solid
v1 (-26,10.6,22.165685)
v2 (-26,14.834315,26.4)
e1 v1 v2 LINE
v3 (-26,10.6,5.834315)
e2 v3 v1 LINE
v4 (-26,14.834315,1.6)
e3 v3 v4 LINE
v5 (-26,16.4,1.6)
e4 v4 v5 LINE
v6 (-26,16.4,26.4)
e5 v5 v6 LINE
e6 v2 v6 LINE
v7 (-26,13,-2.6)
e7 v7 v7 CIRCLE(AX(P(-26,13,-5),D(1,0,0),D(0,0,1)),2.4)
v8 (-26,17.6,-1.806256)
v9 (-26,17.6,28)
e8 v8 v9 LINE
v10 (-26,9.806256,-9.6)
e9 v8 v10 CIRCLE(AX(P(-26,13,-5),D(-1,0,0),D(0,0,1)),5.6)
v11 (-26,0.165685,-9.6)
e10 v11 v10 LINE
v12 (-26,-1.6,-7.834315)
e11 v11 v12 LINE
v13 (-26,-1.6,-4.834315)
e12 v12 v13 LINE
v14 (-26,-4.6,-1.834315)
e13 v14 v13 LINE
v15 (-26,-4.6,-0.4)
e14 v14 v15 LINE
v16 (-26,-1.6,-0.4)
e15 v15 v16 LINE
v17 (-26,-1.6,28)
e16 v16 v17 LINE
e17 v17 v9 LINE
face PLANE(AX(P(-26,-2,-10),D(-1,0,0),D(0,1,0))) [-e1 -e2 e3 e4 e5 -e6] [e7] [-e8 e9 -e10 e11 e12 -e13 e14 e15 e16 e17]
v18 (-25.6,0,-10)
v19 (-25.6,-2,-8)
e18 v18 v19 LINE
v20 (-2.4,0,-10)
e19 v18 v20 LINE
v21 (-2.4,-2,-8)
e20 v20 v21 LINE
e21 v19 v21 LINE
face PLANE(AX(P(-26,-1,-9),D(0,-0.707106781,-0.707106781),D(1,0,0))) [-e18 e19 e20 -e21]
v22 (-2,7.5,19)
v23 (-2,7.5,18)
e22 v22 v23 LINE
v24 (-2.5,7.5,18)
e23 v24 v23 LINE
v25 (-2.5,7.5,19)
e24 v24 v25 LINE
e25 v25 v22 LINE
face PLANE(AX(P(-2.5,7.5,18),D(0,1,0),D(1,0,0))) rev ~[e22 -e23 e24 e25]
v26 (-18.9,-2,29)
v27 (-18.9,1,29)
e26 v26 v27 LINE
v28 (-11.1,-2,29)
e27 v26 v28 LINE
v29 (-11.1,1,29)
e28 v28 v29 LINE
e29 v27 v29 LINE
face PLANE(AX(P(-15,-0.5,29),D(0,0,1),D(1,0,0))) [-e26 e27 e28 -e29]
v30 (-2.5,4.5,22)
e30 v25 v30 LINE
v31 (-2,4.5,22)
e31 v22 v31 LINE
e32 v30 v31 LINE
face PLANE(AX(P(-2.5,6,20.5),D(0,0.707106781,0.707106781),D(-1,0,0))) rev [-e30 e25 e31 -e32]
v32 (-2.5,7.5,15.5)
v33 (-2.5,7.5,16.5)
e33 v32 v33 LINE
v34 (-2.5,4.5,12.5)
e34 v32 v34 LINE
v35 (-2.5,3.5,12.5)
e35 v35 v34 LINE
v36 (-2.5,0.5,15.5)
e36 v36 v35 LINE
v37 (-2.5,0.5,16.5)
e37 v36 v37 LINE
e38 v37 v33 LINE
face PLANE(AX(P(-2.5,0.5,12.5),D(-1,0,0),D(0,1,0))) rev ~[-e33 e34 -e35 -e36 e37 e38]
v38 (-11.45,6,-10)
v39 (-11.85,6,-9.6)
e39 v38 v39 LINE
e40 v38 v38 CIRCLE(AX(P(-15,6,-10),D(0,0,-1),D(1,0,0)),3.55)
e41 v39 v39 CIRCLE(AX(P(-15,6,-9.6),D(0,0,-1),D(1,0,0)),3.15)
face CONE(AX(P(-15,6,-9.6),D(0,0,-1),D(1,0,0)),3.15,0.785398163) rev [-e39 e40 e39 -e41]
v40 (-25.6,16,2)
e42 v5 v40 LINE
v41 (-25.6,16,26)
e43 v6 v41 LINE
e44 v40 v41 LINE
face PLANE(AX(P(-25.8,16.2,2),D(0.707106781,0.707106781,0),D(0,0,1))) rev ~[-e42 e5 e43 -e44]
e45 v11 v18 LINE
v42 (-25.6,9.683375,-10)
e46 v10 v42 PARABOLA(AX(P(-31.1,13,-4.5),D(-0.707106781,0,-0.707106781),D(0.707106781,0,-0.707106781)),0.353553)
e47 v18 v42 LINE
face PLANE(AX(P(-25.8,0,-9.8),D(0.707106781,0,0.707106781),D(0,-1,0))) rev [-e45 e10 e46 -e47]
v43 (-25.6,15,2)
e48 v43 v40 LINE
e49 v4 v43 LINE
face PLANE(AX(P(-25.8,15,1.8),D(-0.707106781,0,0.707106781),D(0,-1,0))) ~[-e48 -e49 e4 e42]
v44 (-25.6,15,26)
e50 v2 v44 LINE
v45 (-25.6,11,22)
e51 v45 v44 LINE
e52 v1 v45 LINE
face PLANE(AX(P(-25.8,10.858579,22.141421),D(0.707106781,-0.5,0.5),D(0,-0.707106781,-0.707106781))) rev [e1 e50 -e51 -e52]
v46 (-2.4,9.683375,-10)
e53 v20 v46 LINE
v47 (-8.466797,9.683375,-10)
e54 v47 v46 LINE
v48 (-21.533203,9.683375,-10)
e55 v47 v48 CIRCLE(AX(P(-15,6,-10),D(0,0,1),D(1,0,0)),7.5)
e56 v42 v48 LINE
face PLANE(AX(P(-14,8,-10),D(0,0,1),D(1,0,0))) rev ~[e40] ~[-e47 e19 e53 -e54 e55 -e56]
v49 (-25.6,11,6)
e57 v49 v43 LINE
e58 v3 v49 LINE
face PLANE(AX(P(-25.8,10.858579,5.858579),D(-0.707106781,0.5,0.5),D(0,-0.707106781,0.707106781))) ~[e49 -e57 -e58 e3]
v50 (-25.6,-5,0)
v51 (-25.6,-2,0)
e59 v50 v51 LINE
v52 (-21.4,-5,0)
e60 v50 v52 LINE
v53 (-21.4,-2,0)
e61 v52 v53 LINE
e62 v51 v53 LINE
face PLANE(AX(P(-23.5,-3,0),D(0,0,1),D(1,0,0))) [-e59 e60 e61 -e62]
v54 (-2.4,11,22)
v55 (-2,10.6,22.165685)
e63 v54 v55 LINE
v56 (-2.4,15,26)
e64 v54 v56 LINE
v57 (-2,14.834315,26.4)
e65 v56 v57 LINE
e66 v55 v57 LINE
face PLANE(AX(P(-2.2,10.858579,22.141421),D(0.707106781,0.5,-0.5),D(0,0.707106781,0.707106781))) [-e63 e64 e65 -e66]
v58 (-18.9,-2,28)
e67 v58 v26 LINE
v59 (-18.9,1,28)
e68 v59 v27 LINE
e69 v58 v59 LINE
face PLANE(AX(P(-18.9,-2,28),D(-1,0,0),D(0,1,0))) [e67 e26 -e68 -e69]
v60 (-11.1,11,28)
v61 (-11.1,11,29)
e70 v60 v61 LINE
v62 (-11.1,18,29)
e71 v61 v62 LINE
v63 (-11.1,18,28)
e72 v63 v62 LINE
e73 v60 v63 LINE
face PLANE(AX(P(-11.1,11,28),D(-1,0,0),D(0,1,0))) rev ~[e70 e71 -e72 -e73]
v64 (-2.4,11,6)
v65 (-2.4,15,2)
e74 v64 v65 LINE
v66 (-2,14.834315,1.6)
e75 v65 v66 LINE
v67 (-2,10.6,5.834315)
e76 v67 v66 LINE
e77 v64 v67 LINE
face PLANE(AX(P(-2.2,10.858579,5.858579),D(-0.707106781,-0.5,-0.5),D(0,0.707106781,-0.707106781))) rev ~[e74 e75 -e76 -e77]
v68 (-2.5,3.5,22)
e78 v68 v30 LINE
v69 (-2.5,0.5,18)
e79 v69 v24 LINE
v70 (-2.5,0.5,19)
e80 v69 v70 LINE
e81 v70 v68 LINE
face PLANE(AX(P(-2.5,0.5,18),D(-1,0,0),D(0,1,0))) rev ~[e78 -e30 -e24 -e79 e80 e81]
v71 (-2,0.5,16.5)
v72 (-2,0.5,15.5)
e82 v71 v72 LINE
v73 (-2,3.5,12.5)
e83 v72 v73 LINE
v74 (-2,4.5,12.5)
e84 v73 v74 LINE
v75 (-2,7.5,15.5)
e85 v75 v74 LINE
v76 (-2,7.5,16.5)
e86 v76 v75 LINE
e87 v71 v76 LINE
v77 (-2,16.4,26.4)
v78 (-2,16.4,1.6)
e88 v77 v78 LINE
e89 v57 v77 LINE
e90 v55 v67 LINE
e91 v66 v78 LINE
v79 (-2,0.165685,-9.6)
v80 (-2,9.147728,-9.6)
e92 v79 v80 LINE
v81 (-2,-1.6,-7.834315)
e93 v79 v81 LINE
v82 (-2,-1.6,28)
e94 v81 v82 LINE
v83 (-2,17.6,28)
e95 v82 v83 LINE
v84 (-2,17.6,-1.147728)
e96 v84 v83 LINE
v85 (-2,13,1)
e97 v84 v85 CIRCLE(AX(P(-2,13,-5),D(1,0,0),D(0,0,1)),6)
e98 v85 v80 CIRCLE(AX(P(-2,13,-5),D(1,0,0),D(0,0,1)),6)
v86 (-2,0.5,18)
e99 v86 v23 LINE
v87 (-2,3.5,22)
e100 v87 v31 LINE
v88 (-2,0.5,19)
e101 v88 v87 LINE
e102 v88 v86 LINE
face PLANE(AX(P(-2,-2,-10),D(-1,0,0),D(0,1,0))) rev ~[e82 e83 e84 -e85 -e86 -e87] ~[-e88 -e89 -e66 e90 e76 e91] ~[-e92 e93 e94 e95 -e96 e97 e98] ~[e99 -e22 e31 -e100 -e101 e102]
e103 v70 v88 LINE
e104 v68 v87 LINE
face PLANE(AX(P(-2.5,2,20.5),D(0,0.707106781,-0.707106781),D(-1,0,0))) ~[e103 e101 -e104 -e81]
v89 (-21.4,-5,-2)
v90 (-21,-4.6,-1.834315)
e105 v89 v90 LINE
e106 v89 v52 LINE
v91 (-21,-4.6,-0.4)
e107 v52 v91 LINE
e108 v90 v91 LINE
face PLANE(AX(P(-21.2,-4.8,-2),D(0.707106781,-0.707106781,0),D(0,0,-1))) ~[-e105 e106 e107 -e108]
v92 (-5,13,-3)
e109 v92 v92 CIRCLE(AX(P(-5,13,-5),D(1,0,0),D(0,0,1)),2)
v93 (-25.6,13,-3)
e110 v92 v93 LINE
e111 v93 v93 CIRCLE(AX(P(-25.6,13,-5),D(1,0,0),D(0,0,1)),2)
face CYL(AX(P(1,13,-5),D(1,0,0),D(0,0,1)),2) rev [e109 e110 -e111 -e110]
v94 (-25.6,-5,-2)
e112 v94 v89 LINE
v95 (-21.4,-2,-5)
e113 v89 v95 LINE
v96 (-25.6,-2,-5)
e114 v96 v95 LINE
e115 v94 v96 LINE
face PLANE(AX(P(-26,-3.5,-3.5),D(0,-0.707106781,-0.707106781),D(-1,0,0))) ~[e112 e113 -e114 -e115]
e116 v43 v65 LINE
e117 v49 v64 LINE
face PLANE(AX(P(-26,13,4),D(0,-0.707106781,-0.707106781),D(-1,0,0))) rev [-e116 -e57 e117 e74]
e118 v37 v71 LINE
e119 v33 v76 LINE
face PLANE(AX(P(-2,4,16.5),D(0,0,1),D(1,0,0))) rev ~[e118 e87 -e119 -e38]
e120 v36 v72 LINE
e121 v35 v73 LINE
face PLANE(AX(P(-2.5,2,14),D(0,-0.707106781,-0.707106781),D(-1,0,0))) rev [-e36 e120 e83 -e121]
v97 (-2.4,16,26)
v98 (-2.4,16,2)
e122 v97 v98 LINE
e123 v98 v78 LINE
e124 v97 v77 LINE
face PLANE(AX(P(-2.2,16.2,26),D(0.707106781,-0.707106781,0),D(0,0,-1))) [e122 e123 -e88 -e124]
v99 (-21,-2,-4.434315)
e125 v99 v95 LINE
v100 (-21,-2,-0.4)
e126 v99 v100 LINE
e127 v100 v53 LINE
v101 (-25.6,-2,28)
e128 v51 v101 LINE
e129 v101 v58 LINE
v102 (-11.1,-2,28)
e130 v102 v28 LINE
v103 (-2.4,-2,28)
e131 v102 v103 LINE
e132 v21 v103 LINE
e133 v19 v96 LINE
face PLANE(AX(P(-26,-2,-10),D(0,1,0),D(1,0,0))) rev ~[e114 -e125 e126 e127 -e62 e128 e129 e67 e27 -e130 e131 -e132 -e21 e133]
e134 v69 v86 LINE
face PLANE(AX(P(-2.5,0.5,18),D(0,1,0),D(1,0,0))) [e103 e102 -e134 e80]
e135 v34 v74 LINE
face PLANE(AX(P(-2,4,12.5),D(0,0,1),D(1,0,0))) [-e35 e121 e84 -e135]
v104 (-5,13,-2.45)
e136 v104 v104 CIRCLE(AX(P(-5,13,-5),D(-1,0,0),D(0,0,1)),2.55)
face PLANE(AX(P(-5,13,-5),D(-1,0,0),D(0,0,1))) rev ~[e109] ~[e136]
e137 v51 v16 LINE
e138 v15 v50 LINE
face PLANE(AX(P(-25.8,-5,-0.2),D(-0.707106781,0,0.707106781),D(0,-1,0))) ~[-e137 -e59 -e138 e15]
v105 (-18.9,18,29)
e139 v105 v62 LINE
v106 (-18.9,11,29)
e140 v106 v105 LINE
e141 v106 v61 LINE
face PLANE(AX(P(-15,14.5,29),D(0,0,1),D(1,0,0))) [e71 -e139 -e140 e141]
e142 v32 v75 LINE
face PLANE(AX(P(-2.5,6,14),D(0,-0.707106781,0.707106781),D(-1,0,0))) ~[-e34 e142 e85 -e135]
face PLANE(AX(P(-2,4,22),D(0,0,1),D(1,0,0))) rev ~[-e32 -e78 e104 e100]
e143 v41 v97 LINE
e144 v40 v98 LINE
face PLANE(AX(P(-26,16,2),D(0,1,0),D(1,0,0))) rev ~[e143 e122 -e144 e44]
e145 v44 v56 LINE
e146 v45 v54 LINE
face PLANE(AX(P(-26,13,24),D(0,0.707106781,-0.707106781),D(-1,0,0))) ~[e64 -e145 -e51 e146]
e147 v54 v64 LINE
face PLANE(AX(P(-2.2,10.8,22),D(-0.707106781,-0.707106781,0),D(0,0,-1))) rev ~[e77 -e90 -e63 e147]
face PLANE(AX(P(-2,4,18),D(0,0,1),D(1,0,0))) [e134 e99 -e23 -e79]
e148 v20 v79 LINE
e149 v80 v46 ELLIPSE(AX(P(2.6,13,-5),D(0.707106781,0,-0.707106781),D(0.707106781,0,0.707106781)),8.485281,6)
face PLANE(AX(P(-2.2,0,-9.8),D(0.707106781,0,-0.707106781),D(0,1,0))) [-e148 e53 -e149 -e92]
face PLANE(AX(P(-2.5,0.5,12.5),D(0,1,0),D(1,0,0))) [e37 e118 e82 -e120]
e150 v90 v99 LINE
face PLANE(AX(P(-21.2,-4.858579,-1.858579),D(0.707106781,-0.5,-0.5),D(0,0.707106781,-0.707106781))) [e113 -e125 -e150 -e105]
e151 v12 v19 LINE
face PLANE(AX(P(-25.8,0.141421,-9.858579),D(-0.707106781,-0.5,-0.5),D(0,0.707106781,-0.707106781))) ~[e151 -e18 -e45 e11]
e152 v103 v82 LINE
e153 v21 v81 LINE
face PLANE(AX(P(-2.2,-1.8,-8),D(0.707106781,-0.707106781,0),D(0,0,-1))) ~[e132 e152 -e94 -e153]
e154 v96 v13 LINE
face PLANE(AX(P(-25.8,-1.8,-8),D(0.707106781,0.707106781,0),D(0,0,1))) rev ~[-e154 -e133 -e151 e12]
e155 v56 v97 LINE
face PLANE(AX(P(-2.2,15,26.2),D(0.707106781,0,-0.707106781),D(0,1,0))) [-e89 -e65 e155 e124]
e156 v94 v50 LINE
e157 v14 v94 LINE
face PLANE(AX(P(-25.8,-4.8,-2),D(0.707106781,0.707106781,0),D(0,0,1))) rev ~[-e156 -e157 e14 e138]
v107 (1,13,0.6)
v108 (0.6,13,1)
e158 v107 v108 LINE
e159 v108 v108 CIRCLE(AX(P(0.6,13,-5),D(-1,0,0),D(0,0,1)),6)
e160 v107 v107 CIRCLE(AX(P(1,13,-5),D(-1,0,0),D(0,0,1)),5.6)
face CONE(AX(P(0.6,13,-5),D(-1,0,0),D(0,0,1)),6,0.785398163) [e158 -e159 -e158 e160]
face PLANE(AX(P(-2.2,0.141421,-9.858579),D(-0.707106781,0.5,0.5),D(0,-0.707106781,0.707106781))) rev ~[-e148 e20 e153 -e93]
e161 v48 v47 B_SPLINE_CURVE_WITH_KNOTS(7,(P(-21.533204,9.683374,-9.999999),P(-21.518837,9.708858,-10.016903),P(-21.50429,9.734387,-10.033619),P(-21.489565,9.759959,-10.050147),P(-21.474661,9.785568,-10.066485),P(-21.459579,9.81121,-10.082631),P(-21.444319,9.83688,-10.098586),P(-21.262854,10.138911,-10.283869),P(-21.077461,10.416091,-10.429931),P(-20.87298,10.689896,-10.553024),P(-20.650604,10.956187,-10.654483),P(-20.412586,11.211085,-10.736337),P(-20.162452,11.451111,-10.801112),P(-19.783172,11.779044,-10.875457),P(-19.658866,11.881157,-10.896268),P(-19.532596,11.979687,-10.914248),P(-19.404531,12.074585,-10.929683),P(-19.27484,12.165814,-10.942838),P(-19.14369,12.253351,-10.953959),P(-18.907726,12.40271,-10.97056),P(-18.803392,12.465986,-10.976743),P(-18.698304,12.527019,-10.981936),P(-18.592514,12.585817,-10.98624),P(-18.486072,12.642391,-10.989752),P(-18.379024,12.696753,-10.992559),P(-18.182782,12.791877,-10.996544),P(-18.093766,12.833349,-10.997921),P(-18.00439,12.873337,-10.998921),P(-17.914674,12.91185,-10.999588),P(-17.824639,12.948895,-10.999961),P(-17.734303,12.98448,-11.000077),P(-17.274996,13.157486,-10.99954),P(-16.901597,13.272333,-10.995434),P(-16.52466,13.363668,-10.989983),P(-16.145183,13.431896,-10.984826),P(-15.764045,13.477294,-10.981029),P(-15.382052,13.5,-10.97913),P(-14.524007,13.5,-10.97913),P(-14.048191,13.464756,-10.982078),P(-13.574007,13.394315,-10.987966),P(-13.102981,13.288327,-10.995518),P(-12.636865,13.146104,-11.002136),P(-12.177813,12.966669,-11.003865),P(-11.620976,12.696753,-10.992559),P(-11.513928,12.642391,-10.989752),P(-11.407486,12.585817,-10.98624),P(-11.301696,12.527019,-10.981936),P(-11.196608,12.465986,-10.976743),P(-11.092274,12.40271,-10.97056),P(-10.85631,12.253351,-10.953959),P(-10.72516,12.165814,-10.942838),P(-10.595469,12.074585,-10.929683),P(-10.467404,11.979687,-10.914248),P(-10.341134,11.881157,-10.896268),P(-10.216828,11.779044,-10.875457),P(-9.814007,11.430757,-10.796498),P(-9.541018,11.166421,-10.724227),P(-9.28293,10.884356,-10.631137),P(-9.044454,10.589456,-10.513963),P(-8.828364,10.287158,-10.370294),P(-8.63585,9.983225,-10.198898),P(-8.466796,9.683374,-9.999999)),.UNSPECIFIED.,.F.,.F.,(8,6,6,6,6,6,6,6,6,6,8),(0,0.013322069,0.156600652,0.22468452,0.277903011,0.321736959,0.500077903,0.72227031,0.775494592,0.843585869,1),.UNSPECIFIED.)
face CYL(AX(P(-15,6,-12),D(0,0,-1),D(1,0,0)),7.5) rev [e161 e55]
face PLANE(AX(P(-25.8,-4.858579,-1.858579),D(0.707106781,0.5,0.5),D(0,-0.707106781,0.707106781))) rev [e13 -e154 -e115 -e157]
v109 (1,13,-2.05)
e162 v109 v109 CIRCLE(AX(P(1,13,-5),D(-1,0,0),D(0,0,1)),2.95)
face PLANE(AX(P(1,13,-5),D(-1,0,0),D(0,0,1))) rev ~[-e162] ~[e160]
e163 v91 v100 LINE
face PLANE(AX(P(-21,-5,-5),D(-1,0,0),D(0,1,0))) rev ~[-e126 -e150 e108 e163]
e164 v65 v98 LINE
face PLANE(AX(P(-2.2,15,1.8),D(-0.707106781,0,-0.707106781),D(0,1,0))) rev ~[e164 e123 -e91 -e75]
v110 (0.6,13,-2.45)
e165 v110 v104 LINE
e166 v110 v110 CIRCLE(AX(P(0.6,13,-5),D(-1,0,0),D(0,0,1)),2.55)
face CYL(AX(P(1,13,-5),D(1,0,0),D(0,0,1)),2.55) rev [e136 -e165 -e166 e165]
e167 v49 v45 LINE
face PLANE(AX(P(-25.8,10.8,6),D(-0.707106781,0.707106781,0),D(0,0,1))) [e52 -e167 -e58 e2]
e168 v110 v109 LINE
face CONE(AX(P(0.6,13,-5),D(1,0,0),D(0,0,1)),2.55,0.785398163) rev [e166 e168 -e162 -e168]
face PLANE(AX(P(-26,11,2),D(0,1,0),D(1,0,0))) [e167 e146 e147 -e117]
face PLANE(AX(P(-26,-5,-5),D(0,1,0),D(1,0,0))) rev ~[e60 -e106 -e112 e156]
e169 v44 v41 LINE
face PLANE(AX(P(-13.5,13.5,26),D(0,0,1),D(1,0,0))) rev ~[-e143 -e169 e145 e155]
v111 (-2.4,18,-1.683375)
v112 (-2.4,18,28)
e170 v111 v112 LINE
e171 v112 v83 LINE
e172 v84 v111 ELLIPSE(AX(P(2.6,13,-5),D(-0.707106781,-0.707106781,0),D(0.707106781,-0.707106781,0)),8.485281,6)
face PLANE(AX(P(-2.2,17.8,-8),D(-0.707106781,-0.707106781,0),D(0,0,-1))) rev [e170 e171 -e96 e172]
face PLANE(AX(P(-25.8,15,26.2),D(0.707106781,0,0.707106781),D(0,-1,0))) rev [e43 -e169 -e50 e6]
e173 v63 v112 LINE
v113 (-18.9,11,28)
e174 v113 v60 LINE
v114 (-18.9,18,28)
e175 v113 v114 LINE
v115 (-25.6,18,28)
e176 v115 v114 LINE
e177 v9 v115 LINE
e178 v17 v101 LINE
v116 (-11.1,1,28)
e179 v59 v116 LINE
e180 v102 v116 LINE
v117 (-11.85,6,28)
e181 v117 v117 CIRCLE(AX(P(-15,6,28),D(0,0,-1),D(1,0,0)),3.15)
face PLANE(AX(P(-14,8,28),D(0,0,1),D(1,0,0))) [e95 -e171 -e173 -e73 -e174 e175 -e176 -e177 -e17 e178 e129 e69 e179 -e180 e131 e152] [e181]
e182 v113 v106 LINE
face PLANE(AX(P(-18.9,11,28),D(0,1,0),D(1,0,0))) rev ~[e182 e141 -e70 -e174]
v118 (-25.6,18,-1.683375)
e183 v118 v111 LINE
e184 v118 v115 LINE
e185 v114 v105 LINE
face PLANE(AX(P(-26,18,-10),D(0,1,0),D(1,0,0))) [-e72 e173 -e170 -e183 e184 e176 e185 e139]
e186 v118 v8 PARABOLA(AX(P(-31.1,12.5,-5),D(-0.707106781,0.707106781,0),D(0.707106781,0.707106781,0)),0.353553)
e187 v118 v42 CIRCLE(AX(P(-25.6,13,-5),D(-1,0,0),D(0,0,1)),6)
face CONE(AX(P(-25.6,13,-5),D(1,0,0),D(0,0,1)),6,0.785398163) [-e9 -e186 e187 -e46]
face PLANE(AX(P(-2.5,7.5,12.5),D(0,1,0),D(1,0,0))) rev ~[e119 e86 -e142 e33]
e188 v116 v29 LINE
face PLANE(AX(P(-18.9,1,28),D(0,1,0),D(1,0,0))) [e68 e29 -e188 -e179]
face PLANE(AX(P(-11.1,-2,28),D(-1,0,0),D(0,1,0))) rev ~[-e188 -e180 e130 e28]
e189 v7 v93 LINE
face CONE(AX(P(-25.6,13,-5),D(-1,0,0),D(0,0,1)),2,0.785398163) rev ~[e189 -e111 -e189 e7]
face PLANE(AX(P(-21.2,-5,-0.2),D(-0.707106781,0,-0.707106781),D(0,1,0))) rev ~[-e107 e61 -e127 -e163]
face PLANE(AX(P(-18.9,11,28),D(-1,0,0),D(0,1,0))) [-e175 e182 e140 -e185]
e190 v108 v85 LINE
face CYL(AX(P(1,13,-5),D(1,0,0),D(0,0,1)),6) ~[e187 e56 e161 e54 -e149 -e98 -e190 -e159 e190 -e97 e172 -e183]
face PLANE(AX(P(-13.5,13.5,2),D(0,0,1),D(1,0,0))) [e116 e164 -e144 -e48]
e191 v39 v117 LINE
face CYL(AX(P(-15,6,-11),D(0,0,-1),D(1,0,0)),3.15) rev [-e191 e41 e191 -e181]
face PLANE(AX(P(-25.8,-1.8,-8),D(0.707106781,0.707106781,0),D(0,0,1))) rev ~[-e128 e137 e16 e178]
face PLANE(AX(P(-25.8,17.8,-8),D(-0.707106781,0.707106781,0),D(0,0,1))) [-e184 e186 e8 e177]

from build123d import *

# Parameters (mm, degrees)
CYLINDER024_R               = 7.5
CYLINDER024_DEPTH           = 2
CYLINDER012_R               = 3.15
CYLINDER012_DEPTH           = 43
CYLINDER011_R               = 2
CYLINDER011_DEPTH           = 39
CYLINDER013_R               = 2.55
CYLINDER013_DEPTH           = 6
BOX022_W                    = 1
BOX022_H                    = 7
BOX022_DEPTH                = 4
BOX023_W                    = 1
BOX023_H                    = 7
BOX023_DEPTH                = 4
CHAMFER003068012002016_SIZE = 3
BOX020_W                    = 7.8
BOX020_H                    = 3
BOX020_DEPTH                = 1
BOX018_W                    = 7.8
BOX018_H                    = 7
BOX018_DEPTH                = 1
BOX021_W                    = 5
BOX021_H                    = 4
BOX021_DEPTH                = 5
CHAMFER003068012002041_SIZE = 3
CHAMFER003068012002042_SIZE = 0.4
BOX017_W                    = 25
BOX017_H                    = 5
BOX017_DEPTH                = 24
CHAMFER003068012002002_SIZE = 4
BOX015_W                    = 24
BOX015_H                    = 20
BOX015_DEPTH                = 38
CHAMFER003068012002006_SIZE = 2
CHAMFER003068012002007_SIZE = 2
CHAMFER003068012002009_SIZE = 0.4
CYLINDER023_R               = 6
CYLINDER023_DEPTH           = 27
CHAMFER003068012002044_SIZE = 0.4
CHAMFER003068012002045_SIZE = 0.4


with BuildPart() as cylinder024:
    # Cylinder024 → Cylinder024 (new body)
    with BuildSketch(Plane(origin=(-15, 6, -12), x_dir=(1, 0, 0), z_dir=(0, 0, 1))):
        Circle(CYLINDER024_R)
    extrude(amount=CYLINDER024_DEPTH)


with BuildPart() as cylinder012:
    # Cylinder012 → Cylinder012 (new body)
    with BuildSketch(Plane(origin=(-15, 6, -11), x_dir=(1, 0, 0), z_dir=(0, 0, 1))):
        Circle(CYLINDER012_R)
    extrude(amount=CYLINDER012_DEPTH)


with BuildPart() as cylinder011:
    # Cylinder011 → Cylinder011 (new body)
    with BuildSketch(Plane(origin=(1, 13, -5), x_dir=(0, 0, 1), z_dir=(-1, 0, 0))):
        Circle(CYLINDER011_R)
    extrude(amount=CYLINDER011_DEPTH)


with BuildPart() as fusion001002012005:
    # Cylinder013 → Cylinder013 (new body)
    with BuildSketch(Plane(origin=(1, 13, -5), x_dir=(0, 0, 1), z_dir=(-1, 0, 0))):
        Circle(CYLINDER013_R)
    extrude(amount=CYLINDER013_DEPTH)

    # Fusion001002012005: union Cylinder011
    add(cylinder011.part)


with BuildPart() as cube022:
    # Box022 → Box022 (new body)
    with BuildSketch(Plane(origin=(-2.5, 0.5, 16.5), x_dir=(1, 0, 0), z_dir=(0, 0, 1))):
        with Locations((0.5, 3.5)):
            Rectangle(BOX022_W, BOX022_H)
    extrude(amount=BOX022_DEPTH)


with BuildPart() as chamfer003068012002016:
    # Box023 → Box023 (new body)
    with BuildSketch(Plane(origin=(-2.5, 0.5, 11), x_dir=(1, 0, 0), z_dir=(0, 0, 1))):
        with Locations((0.5, 3.5)):
            Rectangle(BOX023_W, BOX023_H)
    extrude(amount=BOX023_DEPTH)

    # Fusion001002012009: union Cube022
    add(cube022.part)

    # Chamfer003068012002016
    chamfer003068012002016_edges = [chamfer003068012002016.edges().sort_by_distance(p)[0] for p in [
        (-2, 0.5, 11),
        (-2, 7.5, 11),
        (-2, 0.5, 20.5),
        (-2, 7.5, 20.5),
    ]]
    chamfer(chamfer003068012002016_edges, length=CHAMFER003068012002016_SIZE)


with BuildPart() as chamfer003068012002016_1:
    # Chamfer003068012002016 placement: moved
    add(chamfer003068012002016.part.moved(Location((0, 0, 1.5))))


with BuildPart() as cube020:
    # Box020 → Box020 (new body)
    with BuildSketch(Plane(origin=(-18.9, -2, 28), x_dir=(1, 0, 0), z_dir=(0, 0, 1))):
        with Locations((3.9, 1.5)):
            Rectangle(BOX020_W, BOX020_H)
    extrude(amount=BOX020_DEPTH)


with BuildPart() as fusion001002012023:
    # Box018 → Box018 (new body)
    with BuildSketch(Plane(origin=(-18.9, 11, 28), x_dir=(1, 0, 0), z_dir=(0, 0, 1))):
        with Locations((3.9, 3.5)):
            Rectangle(BOX018_W, BOX018_H)
    extrude(amount=BOX018_DEPTH)

    # Fusion001002012023: union Cube020
    add(cube020.part)


with BuildPart() as chamfer003068012002042:
    # Box021 → Box021 (new body)
    with BuildSketch(Plane(origin=(-26, -5, -5), x_dir=(1, 0, 0), z_dir=(0, 0, 1))):
        with Locations((2.5, 2)):
            Rectangle(BOX021_W, BOX021_H)
    extrude(amount=BOX021_DEPTH)

    # Chamfer003068012002041
    chamfer003068012002041_edges = [chamfer003068012002042.edges().sort_by_distance(p)[0] for p in [
        (-23.5, -5, -5),
    ]]
    chamfer(chamfer003068012002041_edges, length=CHAMFER003068012002041_SIZE)

    # Chamfer003068012002042
    chamfer003068012002042_edges = [chamfer003068012002042.edges().sort_by_distance(p)[0] for p in [
        (-26, -5, -1),
        (-26, -3.5, -3.5),
        (-26, -3, 0),
        (-21, -5, -1),
        (-21, -3.5, -3.5),
        (-21, -3, 0),
    ]]
    chamfer(chamfer003068012002042_edges, length=CHAMFER003068012002042_SIZE)


with BuildPart() as chamfer003068012002002:
    # Box017 → Box017 (new body)
    with BuildSketch(Plane(origin=(-26, 11, 2), x_dir=(1, 0, 0), z_dir=(0, 0, 1))):
        with Locations((12.5, 2.5)):
            Rectangle(BOX017_W, BOX017_H)
    extrude(amount=BOX017_DEPTH)

    # Chamfer003068012002002
    chamfer003068012002002_edges = [chamfer003068012002002.edges().sort_by_distance(p)[0] for p in [
        (-13.5, 11, 2),
        (-13.5, 11, 26),
    ]]
    chamfer(chamfer003068012002002_edges, length=CHAMFER003068012002002_SIZE)


with BuildPart() as chamfer003068012002009:
    # Box015 → Box015 (new body)
    with BuildSketch(Plane(origin=(-26, -2, -10), x_dir=(1, 0, 0), z_dir=(0, 0, 1))):
        with Locations((12, 10)):
            Rectangle(BOX015_W, BOX015_H)
    extrude(amount=BOX015_DEPTH)

    # Cut001008: cut Chamfer003068012002002
    add(chamfer003068012002002.part, mode=Mode.SUBTRACT)

    # Chamfer003068012002006
    chamfer003068012002006_edges = [chamfer003068012002009.edges().sort_by_distance(p)[0] for p in [
        (-14, 18, -10),
    ]]
    chamfer(chamfer003068012002006_edges, length=CHAMFER003068012002006_SIZE)

    # Chamfer003068012002007
    chamfer003068012002007_edges = [chamfer003068012002009.edges().sort_by_distance(p)[0] for p in [
        (-14, -2, -10),
    ]]
    chamfer(chamfer003068012002007_edges, length=CHAMFER003068012002007_SIZE)

    # Chamfer003068012002009
    chamfer003068012002009_edges = [chamfer003068012002009.edges().sort_by_distance(p)[0] for p in [
        (-26, 8, -10),
        (-26, -1, -9),
        (-26, 17, -9),
        (-26, -2, 10),
        (-26, 18, 10),
        (-26, 13, 4),
        (-26, 15.5, 2),
        (-26, 16, 14),
        (-26, 15.5, 26),
        (-26, 13, 24),
        (-26, 11, 14),
        (-2, 8, -10),
        (-2, -1, -9),
        (-2, 17, -9),
        (-2, -2, 10),
        (-2, 18, 10),
        (-2, 13, 4),
        (-2, 15.5, 2),
        (-2, 16, 14),
        (-2, 15.5, 26),
        (-2, 13, 24),
        (-2, 11, 14),
    ]]
    chamfer(chamfer003068012002009_edges, length=CHAMFER003068012002009_SIZE)


with BuildPart() as universal_pulley_mount:
    # Cylinder023 → Cylinder023 (new body)
    with BuildSketch(Plane(origin=(1, 13, -5), x_dir=(0, 0, 1), z_dir=(-1, 0, 0))):
        Circle(CYLINDER023_R)
    extrude(amount=CYLINDER023_DEPTH)

    # Chamfer003068012002044
    chamfer003068012002044_edges = [universal_pulley_mount.edges().sort_by_distance(p)[0] for p in [
        (-26, 13, -11),
    ]]
    chamfer(chamfer003068012002044_edges, length=CHAMFER003068012002044_SIZE)

    # Fusion001002012022: union Chamfer003068012002009
    add(chamfer003068012002009.part)

    # Fusion001002012024: union Fusion001002012023, Chamfer003068012002042
    add(fusion001002012023.part)
    add(chamfer003068012002042.part)

    # Cut001023: cut Chamfer003068012002016
    add(chamfer003068012002016_1.part, mode=Mode.SUBTRACT)

    # Cut001024: cut Fusion001002012005
    add(fusion001002012005.part, mode=Mode.SUBTRACT)

    # Cut001025: cut Cylinder012
    add(cylinder012.part, mode=Mode.SUBTRACT)

    # Cut001026: cut Cylinder024
    add(cylinder024.part, mode=Mode.SUBTRACT)

    # Chamfer003068012002045
    chamfer003068012002045_edges = [universal_pulley_mount.edges().sort_by_distance(p)[0] for p in [
        (1, 13, -11),
        (1, 13, -7.55),
        (-18.15, 6, -10),
        (-26, 13, -7),
    ]]
    chamfer(chamfer003068012002045_edges, length=CHAMFER003068012002045_SIZE)


solid = universal_pulley_mount.part
